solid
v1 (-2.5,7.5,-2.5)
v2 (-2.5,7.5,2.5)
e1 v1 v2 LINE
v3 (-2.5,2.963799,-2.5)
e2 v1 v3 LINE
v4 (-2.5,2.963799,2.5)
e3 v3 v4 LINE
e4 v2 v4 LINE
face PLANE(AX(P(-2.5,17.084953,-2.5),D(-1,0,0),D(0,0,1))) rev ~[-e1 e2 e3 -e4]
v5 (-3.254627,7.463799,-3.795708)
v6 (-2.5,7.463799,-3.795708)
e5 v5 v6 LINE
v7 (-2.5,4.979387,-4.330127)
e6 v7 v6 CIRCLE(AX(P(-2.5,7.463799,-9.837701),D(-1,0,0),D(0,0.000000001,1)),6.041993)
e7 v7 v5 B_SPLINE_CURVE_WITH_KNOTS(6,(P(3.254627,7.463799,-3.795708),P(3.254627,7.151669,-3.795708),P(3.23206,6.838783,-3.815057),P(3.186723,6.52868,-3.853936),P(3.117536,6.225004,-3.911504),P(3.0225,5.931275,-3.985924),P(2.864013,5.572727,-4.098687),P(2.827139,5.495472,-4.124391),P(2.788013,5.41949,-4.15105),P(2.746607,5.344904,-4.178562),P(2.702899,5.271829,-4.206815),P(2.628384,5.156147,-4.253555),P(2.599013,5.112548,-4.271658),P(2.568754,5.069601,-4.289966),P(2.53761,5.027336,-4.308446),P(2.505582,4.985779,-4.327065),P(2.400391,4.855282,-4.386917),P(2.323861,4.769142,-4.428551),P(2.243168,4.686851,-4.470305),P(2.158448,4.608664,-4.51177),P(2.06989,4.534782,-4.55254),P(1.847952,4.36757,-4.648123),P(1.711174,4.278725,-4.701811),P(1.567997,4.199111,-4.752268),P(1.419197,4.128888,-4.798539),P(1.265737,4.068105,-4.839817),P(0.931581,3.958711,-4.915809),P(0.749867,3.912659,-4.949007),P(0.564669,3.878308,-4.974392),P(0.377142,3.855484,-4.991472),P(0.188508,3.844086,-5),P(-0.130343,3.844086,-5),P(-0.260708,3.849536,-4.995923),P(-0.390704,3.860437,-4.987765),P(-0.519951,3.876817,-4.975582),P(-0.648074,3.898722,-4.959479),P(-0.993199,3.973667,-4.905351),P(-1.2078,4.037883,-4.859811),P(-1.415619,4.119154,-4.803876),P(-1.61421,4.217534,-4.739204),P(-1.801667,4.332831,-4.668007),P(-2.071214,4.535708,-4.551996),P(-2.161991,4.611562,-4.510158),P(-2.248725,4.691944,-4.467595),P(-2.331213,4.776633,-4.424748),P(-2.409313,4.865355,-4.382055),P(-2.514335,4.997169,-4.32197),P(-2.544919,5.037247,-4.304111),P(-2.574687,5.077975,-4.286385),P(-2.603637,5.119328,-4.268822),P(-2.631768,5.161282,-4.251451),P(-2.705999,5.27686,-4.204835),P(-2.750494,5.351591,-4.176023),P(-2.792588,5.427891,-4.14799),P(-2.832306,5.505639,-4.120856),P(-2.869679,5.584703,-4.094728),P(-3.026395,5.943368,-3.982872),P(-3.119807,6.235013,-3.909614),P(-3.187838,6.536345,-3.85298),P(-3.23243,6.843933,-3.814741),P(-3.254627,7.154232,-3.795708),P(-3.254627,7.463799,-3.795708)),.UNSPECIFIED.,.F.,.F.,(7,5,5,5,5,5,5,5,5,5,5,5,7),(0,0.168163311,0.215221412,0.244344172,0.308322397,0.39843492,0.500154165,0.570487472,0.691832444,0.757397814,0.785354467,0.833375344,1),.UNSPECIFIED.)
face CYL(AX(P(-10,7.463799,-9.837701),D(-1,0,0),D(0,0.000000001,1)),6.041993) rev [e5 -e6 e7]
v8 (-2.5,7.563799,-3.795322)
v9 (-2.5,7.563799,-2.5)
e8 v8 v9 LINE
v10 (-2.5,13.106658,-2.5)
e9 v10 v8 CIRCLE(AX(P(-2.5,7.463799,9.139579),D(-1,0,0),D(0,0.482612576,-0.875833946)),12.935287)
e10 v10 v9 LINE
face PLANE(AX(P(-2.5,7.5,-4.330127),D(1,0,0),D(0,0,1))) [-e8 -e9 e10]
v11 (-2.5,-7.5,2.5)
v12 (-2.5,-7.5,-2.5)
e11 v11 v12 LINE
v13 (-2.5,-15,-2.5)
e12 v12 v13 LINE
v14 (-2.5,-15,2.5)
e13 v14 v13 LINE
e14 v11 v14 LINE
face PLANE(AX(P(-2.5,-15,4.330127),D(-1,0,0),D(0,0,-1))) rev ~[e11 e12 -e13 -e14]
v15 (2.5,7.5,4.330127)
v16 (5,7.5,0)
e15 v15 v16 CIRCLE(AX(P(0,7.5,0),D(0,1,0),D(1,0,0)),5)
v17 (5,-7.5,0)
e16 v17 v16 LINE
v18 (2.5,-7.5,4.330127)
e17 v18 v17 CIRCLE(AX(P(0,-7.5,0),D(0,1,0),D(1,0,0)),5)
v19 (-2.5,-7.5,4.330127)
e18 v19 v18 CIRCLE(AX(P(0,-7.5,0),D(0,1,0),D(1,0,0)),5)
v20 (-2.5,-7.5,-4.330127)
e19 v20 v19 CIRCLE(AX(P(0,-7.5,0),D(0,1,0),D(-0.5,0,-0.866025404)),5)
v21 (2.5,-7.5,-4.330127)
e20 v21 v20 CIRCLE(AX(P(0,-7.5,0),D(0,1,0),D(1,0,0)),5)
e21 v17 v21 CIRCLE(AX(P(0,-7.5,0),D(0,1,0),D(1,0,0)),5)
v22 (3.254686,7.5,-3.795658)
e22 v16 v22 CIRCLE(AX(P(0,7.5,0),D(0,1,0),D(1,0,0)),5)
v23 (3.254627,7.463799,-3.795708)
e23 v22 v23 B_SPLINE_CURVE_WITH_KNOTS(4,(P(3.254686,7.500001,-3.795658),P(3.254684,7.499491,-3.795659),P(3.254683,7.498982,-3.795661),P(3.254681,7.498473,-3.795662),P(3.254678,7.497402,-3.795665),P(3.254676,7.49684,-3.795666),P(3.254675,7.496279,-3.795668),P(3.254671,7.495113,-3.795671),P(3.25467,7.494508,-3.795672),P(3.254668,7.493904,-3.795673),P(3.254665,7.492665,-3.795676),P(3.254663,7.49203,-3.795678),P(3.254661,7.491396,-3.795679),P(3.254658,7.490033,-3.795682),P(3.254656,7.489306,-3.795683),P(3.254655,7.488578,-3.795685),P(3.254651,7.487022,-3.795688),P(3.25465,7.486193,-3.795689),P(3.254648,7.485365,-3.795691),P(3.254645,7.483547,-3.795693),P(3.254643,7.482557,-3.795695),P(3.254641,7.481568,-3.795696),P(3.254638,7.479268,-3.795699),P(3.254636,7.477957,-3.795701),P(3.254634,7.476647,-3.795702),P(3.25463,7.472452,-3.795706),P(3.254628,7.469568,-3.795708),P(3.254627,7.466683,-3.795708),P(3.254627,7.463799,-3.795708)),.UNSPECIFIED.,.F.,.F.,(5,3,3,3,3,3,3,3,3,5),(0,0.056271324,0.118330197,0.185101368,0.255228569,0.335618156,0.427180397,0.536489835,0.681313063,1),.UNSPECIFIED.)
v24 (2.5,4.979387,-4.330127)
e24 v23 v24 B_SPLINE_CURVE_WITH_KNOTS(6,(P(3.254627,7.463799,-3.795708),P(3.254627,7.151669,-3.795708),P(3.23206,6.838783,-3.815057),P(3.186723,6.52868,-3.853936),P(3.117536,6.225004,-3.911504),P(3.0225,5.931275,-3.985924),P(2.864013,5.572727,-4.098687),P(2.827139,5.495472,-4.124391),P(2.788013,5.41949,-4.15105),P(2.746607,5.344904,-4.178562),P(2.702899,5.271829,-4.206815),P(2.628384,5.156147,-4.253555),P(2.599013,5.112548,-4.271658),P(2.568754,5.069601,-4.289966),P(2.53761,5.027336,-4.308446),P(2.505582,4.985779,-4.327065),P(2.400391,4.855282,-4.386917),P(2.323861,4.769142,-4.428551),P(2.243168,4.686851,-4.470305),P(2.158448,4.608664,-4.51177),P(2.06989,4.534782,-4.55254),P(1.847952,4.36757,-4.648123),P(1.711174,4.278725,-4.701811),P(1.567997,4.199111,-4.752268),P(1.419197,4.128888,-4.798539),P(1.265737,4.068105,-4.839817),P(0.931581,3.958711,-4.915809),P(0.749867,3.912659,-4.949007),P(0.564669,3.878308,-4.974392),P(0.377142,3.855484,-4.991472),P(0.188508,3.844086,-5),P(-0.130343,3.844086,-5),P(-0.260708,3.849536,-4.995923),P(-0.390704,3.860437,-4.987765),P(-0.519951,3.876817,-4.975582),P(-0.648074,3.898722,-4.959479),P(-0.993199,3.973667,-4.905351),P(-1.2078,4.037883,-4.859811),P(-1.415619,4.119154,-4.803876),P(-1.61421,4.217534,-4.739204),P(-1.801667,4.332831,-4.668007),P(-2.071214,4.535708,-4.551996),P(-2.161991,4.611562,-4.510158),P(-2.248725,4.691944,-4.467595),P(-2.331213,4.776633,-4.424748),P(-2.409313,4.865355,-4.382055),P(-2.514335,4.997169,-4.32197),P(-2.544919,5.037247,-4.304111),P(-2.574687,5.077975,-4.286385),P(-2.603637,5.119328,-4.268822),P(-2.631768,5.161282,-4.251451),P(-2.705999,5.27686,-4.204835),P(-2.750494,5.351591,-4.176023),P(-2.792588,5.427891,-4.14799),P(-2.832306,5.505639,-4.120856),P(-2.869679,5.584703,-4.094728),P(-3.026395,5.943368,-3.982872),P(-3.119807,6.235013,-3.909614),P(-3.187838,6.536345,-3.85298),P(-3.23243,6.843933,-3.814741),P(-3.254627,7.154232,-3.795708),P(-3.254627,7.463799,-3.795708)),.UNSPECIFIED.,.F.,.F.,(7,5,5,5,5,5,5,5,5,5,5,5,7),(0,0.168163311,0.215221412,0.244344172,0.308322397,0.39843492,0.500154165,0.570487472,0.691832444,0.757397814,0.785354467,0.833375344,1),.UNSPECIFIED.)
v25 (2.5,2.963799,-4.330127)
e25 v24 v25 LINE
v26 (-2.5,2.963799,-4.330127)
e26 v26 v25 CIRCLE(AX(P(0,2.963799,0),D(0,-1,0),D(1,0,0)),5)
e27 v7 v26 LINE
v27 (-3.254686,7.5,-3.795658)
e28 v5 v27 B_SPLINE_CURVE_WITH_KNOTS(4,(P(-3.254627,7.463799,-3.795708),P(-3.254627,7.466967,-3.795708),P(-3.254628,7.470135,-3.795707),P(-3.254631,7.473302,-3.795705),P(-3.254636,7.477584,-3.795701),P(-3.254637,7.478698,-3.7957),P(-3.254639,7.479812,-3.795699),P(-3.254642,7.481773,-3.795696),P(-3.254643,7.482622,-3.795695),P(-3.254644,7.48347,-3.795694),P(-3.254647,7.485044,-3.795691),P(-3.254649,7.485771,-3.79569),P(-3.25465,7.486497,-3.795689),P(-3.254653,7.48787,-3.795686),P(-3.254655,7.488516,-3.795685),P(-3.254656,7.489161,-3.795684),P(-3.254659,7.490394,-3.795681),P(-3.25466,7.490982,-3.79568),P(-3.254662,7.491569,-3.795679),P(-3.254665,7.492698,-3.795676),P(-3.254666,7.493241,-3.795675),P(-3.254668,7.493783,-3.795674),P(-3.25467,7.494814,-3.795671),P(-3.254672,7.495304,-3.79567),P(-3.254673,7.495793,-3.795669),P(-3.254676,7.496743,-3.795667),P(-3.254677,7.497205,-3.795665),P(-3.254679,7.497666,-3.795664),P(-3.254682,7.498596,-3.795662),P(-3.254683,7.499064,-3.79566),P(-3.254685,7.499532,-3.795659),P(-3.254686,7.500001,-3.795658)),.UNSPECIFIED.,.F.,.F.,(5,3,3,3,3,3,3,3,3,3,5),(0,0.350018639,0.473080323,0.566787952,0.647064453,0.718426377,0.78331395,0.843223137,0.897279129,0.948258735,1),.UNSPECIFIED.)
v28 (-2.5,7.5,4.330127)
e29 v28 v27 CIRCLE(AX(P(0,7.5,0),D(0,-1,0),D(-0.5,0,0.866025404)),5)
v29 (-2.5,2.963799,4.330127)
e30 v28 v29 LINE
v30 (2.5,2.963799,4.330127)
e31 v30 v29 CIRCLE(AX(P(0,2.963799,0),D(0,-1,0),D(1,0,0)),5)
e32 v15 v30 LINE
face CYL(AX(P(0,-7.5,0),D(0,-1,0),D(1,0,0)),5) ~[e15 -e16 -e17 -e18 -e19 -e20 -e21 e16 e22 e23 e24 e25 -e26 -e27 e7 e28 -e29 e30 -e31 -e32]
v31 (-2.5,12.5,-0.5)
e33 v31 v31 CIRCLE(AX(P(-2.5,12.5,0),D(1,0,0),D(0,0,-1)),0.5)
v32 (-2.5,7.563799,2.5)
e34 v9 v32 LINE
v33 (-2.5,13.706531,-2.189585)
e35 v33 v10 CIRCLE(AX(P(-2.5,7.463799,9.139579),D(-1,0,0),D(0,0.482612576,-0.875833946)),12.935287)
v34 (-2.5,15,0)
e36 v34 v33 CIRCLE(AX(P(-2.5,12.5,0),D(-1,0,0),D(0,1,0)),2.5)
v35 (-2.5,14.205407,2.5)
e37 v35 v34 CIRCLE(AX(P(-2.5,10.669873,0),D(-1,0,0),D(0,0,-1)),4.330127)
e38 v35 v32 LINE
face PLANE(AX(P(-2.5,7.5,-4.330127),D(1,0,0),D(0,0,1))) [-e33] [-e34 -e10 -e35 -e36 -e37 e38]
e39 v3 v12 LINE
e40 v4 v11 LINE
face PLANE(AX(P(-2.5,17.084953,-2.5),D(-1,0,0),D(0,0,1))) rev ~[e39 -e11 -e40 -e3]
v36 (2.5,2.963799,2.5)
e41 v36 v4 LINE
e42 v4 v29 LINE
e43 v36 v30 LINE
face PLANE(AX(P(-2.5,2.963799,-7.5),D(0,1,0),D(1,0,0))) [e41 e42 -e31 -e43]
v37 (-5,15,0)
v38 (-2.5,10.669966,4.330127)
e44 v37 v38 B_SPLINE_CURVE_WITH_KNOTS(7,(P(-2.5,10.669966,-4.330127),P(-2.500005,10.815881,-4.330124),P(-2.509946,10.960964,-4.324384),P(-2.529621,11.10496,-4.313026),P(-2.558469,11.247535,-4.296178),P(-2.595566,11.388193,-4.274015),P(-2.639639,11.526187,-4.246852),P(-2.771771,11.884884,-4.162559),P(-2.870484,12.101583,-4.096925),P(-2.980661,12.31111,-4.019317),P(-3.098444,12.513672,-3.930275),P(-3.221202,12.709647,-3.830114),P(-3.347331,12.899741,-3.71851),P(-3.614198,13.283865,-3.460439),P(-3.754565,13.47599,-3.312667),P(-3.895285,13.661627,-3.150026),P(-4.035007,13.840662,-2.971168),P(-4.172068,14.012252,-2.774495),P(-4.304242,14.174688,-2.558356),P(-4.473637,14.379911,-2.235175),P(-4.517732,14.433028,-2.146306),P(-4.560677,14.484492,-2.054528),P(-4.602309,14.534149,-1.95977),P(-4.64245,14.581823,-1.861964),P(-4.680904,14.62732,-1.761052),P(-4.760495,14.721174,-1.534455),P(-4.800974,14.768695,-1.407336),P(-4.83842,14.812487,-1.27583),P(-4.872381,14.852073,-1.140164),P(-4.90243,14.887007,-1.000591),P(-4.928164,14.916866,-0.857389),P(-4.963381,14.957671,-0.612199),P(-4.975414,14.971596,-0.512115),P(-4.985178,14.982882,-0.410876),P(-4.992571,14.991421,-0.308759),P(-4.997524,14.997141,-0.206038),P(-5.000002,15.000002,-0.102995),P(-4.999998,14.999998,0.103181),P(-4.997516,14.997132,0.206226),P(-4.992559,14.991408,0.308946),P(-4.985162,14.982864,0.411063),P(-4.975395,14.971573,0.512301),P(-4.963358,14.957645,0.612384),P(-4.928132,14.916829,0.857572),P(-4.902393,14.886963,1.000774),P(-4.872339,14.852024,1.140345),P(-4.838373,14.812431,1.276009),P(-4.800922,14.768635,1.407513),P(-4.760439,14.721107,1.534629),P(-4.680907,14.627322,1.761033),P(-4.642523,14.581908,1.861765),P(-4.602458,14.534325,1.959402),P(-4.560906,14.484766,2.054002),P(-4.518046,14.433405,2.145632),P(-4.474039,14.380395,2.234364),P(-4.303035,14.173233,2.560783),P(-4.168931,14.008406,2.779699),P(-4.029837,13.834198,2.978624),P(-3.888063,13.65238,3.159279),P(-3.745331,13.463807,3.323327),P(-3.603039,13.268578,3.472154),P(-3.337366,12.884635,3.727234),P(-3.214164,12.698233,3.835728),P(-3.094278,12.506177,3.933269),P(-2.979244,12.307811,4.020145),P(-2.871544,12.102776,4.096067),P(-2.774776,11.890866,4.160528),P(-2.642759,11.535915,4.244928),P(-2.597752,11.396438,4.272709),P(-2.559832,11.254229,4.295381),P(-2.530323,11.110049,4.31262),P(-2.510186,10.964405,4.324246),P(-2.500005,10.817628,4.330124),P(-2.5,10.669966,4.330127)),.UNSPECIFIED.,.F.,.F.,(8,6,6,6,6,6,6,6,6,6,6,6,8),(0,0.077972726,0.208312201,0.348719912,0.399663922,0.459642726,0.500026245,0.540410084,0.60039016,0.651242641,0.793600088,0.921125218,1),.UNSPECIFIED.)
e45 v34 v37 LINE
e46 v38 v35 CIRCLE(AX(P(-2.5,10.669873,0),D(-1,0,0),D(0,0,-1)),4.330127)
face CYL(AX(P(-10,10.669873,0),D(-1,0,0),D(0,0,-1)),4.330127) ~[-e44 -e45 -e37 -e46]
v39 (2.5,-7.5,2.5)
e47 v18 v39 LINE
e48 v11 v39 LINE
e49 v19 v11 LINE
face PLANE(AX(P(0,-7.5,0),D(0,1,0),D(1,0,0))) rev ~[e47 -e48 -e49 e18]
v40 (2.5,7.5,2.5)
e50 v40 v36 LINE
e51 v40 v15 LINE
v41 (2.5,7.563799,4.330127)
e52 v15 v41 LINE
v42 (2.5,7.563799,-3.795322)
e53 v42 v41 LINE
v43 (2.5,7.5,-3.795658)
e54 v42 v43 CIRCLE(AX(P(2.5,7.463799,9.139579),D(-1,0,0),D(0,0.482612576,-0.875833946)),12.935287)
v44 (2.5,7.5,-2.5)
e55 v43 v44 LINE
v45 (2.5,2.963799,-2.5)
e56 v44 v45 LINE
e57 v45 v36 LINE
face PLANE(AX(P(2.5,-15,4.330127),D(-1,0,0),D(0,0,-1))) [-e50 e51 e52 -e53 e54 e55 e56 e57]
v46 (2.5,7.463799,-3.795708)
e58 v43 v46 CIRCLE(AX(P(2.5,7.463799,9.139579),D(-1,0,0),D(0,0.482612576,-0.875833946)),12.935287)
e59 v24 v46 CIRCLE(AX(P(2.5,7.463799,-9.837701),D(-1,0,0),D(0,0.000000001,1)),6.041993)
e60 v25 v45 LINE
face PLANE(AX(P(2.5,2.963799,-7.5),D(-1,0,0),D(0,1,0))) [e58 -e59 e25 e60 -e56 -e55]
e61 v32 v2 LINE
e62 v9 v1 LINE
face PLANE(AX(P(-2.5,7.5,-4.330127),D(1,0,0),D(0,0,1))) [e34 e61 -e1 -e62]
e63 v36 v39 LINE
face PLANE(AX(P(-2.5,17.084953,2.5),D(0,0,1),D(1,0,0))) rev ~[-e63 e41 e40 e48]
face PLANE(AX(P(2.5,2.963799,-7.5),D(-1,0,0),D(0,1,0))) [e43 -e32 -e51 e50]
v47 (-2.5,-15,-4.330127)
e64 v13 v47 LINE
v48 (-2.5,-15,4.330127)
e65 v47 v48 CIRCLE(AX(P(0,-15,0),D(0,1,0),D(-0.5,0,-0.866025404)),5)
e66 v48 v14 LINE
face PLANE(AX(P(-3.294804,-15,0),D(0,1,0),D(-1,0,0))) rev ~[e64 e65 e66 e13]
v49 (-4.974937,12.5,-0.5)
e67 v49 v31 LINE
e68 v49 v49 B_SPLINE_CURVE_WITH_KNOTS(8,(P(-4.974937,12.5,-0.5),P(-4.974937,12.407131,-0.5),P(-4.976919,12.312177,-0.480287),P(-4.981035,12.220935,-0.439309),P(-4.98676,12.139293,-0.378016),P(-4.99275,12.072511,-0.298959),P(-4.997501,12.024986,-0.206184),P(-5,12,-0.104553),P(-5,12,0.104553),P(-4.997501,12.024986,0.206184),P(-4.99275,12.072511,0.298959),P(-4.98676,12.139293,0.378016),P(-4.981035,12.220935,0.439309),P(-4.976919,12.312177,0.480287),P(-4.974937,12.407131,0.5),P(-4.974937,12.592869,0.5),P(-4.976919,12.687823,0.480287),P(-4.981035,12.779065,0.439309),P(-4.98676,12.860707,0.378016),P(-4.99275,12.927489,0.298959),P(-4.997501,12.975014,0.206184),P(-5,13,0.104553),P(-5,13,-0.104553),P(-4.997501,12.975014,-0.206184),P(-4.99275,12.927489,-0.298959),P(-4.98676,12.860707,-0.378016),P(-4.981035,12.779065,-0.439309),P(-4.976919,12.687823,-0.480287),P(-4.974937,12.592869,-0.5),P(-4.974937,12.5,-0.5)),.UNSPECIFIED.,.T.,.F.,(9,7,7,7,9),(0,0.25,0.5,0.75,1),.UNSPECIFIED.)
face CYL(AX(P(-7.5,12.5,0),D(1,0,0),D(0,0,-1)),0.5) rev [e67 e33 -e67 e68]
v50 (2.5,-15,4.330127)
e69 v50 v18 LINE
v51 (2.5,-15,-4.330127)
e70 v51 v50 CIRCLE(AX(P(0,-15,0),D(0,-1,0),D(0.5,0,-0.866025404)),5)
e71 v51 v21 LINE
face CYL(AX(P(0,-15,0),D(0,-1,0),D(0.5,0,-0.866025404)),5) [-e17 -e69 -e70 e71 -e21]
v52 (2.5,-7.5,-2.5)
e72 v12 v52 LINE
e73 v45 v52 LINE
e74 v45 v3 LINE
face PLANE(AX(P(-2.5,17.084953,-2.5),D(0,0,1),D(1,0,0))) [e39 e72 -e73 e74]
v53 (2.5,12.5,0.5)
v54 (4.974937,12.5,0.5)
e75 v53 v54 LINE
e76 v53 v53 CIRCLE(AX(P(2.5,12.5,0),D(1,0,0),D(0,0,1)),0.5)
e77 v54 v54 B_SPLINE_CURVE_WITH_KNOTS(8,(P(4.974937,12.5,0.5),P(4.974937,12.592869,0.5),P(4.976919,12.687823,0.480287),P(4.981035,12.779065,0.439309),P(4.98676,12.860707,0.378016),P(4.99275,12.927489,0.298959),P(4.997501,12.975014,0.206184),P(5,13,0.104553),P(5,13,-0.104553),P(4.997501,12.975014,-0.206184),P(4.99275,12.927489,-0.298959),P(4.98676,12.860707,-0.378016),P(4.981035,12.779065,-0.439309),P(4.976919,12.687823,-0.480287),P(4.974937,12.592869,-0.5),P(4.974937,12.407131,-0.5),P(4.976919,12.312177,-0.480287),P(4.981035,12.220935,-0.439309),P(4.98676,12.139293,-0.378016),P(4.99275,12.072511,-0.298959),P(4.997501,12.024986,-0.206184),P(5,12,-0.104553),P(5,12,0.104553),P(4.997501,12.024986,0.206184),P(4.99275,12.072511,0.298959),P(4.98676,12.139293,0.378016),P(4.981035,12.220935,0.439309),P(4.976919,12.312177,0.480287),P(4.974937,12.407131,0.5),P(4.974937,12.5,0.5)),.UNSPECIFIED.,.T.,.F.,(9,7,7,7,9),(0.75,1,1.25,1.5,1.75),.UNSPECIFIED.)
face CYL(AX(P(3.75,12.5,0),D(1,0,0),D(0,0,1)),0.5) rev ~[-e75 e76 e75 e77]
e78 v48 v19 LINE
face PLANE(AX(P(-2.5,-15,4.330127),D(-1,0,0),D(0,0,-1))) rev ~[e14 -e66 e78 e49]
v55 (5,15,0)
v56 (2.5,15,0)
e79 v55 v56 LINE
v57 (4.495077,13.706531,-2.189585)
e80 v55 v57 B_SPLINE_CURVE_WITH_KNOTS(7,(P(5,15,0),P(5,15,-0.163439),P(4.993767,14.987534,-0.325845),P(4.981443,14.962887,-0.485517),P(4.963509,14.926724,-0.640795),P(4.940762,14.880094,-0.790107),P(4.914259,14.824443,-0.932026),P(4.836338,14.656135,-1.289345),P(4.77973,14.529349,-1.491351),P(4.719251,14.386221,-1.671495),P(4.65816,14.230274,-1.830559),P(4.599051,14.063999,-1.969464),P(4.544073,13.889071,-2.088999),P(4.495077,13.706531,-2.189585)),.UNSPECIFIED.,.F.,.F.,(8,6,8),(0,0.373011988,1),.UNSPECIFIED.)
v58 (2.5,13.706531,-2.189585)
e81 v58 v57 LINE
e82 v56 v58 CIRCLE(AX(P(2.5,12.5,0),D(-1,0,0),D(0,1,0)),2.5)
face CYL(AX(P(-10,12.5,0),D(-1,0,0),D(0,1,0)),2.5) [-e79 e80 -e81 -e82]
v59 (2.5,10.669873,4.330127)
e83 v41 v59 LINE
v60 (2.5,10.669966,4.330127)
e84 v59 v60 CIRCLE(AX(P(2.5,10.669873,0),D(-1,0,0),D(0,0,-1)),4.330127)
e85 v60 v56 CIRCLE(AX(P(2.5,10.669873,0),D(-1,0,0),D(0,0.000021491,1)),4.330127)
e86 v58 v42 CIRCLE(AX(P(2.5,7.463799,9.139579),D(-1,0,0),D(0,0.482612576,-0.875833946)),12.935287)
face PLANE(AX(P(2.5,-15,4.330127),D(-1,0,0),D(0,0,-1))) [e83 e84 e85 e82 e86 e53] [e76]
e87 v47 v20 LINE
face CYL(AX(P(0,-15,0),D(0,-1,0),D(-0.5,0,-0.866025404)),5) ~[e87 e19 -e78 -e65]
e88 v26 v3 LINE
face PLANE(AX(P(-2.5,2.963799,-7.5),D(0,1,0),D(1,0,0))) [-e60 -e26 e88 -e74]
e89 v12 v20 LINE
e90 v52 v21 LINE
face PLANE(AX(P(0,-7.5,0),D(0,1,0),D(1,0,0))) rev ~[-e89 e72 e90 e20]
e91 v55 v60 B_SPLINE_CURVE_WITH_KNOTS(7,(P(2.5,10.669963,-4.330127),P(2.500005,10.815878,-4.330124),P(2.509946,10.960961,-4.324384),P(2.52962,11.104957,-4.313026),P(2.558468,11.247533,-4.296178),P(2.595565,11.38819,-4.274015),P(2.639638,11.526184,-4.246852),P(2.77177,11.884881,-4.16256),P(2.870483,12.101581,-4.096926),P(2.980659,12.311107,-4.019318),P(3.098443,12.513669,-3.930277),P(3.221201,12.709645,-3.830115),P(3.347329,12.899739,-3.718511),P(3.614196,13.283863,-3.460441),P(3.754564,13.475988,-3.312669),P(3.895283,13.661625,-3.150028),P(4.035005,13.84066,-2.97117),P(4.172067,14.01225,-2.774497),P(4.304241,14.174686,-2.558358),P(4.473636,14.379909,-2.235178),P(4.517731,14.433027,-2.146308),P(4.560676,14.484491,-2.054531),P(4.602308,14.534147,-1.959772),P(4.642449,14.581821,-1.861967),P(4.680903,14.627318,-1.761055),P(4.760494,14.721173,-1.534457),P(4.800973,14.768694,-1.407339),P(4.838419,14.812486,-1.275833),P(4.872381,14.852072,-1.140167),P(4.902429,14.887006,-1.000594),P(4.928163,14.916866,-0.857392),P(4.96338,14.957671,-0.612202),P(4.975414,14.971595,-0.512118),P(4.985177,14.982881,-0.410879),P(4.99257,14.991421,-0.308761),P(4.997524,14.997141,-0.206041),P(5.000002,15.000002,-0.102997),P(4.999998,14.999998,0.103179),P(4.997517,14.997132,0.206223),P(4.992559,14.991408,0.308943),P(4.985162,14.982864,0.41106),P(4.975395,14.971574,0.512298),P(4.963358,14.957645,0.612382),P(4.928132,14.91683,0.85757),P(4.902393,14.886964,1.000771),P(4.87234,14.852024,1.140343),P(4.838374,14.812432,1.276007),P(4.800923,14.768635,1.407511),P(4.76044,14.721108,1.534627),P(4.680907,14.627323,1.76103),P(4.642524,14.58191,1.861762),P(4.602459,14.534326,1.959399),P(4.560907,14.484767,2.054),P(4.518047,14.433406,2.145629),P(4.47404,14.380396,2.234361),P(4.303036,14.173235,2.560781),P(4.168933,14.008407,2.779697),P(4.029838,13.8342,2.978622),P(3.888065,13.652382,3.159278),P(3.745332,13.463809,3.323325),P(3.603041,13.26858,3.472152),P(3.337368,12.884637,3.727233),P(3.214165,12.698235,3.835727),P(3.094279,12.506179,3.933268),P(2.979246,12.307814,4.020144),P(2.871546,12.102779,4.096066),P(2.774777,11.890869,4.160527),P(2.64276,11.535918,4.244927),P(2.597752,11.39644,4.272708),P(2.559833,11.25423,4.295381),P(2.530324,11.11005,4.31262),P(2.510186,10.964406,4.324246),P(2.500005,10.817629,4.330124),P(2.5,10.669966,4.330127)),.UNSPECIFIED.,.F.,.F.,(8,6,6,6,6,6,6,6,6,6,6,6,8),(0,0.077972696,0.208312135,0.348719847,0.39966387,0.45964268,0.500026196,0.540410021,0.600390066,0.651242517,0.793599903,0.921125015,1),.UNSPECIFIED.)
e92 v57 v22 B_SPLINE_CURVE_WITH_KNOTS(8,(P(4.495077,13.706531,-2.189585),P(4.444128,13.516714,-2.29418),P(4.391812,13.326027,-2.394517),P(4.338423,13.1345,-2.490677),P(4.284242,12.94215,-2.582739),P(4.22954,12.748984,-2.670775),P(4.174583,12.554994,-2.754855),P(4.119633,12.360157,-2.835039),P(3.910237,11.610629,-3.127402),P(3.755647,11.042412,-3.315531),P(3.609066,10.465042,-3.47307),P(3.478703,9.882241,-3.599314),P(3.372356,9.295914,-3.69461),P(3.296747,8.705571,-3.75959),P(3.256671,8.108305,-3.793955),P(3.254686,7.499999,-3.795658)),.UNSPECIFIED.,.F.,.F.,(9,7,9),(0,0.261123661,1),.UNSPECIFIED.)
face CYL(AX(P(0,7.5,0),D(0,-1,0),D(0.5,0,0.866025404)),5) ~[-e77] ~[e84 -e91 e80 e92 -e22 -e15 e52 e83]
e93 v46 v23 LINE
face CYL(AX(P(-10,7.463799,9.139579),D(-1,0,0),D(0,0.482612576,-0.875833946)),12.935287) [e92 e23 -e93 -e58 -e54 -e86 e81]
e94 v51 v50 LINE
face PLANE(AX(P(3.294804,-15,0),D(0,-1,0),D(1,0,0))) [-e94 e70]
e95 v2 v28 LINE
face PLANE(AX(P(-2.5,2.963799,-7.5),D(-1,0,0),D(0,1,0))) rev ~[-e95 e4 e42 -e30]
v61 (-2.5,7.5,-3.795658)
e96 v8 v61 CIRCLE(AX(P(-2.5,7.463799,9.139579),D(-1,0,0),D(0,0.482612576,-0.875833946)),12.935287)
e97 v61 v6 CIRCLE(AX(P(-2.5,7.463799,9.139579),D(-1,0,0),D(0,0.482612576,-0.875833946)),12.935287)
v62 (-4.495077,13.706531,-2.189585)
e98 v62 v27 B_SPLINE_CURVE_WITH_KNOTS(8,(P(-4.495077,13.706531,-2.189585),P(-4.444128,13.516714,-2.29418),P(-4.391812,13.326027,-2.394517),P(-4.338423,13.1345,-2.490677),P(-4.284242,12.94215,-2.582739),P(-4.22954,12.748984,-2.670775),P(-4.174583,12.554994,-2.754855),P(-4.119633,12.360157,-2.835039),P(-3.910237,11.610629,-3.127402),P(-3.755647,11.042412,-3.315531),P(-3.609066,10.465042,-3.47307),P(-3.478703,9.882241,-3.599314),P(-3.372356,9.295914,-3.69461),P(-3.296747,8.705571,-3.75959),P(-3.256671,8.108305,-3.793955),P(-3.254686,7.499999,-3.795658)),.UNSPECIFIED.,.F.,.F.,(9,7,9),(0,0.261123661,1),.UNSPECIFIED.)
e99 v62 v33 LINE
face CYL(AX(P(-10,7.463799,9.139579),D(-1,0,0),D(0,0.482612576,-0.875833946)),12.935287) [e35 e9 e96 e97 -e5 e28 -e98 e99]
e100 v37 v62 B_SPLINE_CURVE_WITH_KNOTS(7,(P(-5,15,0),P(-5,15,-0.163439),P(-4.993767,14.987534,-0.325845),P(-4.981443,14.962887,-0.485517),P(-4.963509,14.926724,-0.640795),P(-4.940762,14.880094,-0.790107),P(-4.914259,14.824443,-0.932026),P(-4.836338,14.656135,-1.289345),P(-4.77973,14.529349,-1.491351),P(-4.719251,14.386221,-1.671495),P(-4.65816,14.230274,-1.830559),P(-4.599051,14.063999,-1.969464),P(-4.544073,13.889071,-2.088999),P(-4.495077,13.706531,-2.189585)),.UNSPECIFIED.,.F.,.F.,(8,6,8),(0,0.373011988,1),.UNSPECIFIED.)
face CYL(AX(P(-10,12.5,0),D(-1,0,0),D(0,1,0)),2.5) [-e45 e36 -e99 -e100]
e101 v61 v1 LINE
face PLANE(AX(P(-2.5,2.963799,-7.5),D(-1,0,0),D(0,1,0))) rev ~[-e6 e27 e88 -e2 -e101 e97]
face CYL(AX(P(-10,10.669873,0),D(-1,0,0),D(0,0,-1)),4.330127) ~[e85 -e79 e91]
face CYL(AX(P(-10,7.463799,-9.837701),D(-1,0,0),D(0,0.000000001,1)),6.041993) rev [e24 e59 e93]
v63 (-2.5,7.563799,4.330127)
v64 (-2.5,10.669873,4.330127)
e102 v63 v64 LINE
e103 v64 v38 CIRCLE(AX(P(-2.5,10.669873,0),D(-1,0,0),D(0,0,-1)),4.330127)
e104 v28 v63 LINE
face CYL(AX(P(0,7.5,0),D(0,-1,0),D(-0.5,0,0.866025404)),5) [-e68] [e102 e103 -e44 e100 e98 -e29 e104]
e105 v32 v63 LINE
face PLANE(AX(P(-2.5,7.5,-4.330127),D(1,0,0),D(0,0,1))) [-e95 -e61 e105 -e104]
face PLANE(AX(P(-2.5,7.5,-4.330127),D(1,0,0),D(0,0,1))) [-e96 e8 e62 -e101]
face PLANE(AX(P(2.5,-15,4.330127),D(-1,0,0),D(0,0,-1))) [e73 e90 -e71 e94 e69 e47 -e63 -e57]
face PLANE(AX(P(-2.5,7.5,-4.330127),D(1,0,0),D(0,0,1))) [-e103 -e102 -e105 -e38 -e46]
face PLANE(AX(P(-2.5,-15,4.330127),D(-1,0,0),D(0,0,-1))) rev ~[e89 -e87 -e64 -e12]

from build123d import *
from build123d.topology import SkipClean

# Parameters (mm, degrees)
BOSS_EXTRUDE1_DEPTH      = 7.5
BOSS_EXTRUDE1_DEPTH_BACK = 7.5
SKETCH1_R                = 5
BOSS_EXTRUDE3_DEPTH      = 7.5
BOSS_EXTRUDE4_START      = 7.5
BOSS_EXTRUDE4_DEPTH      = 7.5
CUT_EXTRUDE2_DEPTH       = 24.58495283
CUT_EXTRUDE2_DEPTH_BACK  = 24.58495283
SKETCH5_W                = 5
SKETCH5_H                = 5
CUT_EXTRUDE4_DEPTH       = 18.5
CUT_EXTRUDE4_DEPTH_BACK  = 7.5
SKETCH14_W               = 0.500000016
SKETCH14_H               = 2.5
CUT_EXTRUDE5_DEPTH       = 7.5
CUT_EXTRUDE5_DEPTH_BACK  = 7.5
CUT_EXTRUDE8_DEPTH       = 7.5
CUT_EXTRUDE8_DEPTH_BACK  = 7.5
SKETCH17_W               = 5
SKETCH17_H               = 4.6


with BuildPart() as part:
    # Sketch1 → Boss-Extrude1 (new, two sides: drawn at the far end of the back side and taken through both)
    with BuildSketch(Plane(origin=(0, 0, 0), x_dir=(1, 0, 0), z_dir=(0, 1, 0)).offset(-BOSS_EXTRUDE1_DEPTH_BACK)):
        Circle(SKETCH1_R)
    extrude(amount=BOSS_EXTRUDE1_DEPTH + BOSS_EXTRUDE1_DEPTH_BACK)

    # Sketch3 → Boss-Extrude3 (add)
    with SkipClean():  # the faces are left unmerged after this step: merging them gives an invalid solid
        with BuildSketch(Plane(origin=(0, 7.5, 0), x_dir=(1, 0, 0), z_dir=(0, 1, 0))):
            with BuildLine():
                Line((-2.5, 4.330127019), (-2.5, -4.330127019))
                ThreePointArc((-2.5, -4.330127019), (-5, 0), (-2.5, 4.330127019))
            make_face()
            with BuildLine():
                Line((2.5, 4.330127019), (2.5, -4.330127019))
                ThreePointArc((2.5, -4.330127019), (5, 0), (2.5, 4.330127019))
            make_face()
        extrude(amount=BOSS_EXTRUDE3_DEPTH)

    # Sketch4 → Boss-Extrude4 (add)
    with SkipClean():  # the faces are left unmerged after this step: merging them gives an invalid solid
        with BuildSketch(Plane.XZ.offset(7.5).offset(BOSS_EXTRUDE4_START)):
            with BuildLine():
                Line((-2.5, 4.330127019), (-2.5, -4.330127019))
                ThreePointArc((-2.5, -4.330127019), (-5, 0), (-2.5, 4.330127019))
            make_face()
            with BuildLine():
                Line((2.5, 4.330127019), (2.5, -4.330127019))
                ThreePointArc((2.5, -4.330127019), (5, 0), (2.5, 4.330127019))
            make_face()
        extrude(amount=-BOSS_EXTRUDE4_DEPTH)

    # Sketch5 → Cut-Extrude2 (cut, two sides: drawn at the far end of the back side and taken through both)
    with SkipClean():  # the faces are left unmerged after this step: merging them gives an invalid solid
        with BuildSketch(Plane.XZ.offset(7.5).offset(-CUT_EXTRUDE2_DEPTH_BACK)):
            Rectangle(SKETCH5_W, SKETCH5_H)
        extrude(amount=CUT_EXTRUDE2_DEPTH + CUT_EXTRUDE2_DEPTH_BACK, mode=Mode.SUBTRACT)

    # Sketch10 → Cut-Extrude4 (cut, two sides: drawn at the far end of the back side and taken through both)
    with SkipClean():  # the faces are left unmerged after this step: merging them gives an invalid solid
        with BuildSketch(Plane(origin=(-2.5, 0, 0), x_dir=(0, 0, -1), z_dir=(1, 0, 0)).offset(-CUT_EXTRUDE4_DEPTH_BACK)):
            with BuildLine():
                Line((-4.33012702, 10.66987298), (-4.331858603, 15.169872647))
                Line((-4.331858603, 15.169872647), (4.328395437, 15.169872647))
                Line((4.328395437, 15.169872647), (4.33012702, 10.66987298))
                ThreePointArc((4.33012702, 10.66987298), (0, 15), (-4.33012702, 10.66987298))
            make_face()
        extrude(amount=CUT_EXTRUDE4_DEPTH + CUT_EXTRUDE4_DEPTH_BACK, mode=Mode.SUBTRACT)


with BuildPart() as cut_extrude4_piece_1:
    # of the separate pieces the step leaves, piece 1, a body of its own (cut_extrude4_pieces)
    add(part.part.solids().sort_by_distance((5, 0, 0))[0])

    # Sketch14 → #97 (0.03937008) Diameter Hole1 (revolve, cut)
    with SkipClean():  # the faces are left unmerged after this step: merging them gives an invalid solid
        with BuildSketch(Plane(origin=(2.5, 12.5, 0), x_dir=(0, 0, 1), z_dir=(0, 1, 0))):
            with Locations((0.250000008, 1.25)):
                Rectangle(SKETCH14_W, SKETCH14_H)
        revolve(axis=Axis((-3.85, 12.5, 0), (1, 0, 0)), mode=Mode.SUBTRACT)

    # Sketch15 → #97 (0.03937008) Diameter Hole2 (revolve, cut)
    with SkipClean():  # the faces are left unmerged after this step: merging them gives an invalid solid
        with BuildSketch(Plane(origin=(2.5, 12.5, 0), x_dir=(0, 0, -1), z_dir=(0, 1, 0))):
            Polygon((0, 0), (0, 10.300430319), (0.500000016, 10), (0.500000016, 0), align=None)
        revolve(axis=Axis((8.85, 12.5, 0), (-1, 0, 0)), mode=Mode.SUBTRACT)


with BuildPart() as cut_extrude4_piece_2:
    # of the separate pieces the step leaves, piece 2, a body of its own (cut_extrude4_pieces)
    add(part.part.solids().sort_by_distance((2.502883751, 15, -4.328460803))[0])


with BuildPart() as cut_extrude4_piece_3:
    # of the separate pieces the step leaves, piece 3, a body of its own (cut_extrude4_pieces)
    add(part.part.solids().sort_by_distance((-2.5, 15, -4.330127019))[0])


with BuildPart() as cut_extrude5_tool:
    # Sketch16 → Cut-Extrude5 (new, two sides: drawn at the far end of the back side and taken through both)
    with SkipClean():  # the faces are left unmerged after this step: merging them gives an invalid solid
        with BuildSketch(Plane(origin=(-2.5, 0, 0), x_dir=(0, 0, -1), z_dir=(1, 0, 0)).offset(-CUT_EXTRUDE5_DEPTH_BACK)):
            with BuildLine():
                Line((5.450138396, 3.309889021), (7.392049741, 3.309889021))
                Line((7.392049741, 3.309889021), (7.392049741, 15))
                Line((7.392049741, 15), (0, 15))
                ThreePointArc((0, 15), (1.271548544, 14.652478641), (2.189584866, 13.70653144))
                ThreePointArc((2.189584866, 13.70653144), (3.387744198, 10.686815519), (3.795708462, 7.463799045))
                ThreePointArc((3.795708462, 7.463799045), (4.224533696, 5.228172349), (5.450138396, 3.309889021))
            make_face()
        extrude(amount=CUT_EXTRUDE5_DEPTH + CUT_EXTRUDE5_DEPTH_BACK)


with BuildPart() as cut_extrude4_piece_1_1:
    with SkipClean():  # the faces are left unmerged after this step: merging them gives an invalid solid
        add(cut_extrude4_piece_1.part)

        # Cut-Extrude5: cut by cut_extrude5_tool
        add(cut_extrude5_tool.part, mode=Mode.SUBTRACT)

    # Sketch17 → Cut-Extrude8 (cut, two sides: drawn at the far end of the back side and taken through both)
    with SkipClean():  # the faces are left unmerged after this step: merging them gives an invalid solid
        with BuildSketch(Plane.XY.offset(-CUT_EXTRUDE8_DEPTH_BACK)):
            with Locations((0, 5.263799045)):
                Rectangle(SKETCH17_W, SKETCH17_H)
        extrude(amount=CUT_EXTRUDE8_DEPTH + CUT_EXTRUDE8_DEPTH_BACK, mode=Mode.SUBTRACT)


with BuildPart() as cut_extrude4_piece_2_1:
    with SkipClean():  # the faces are left unmerged after this step: merging them gives an invalid solid
        add(cut_extrude4_piece_2.part)

        # Cut-Extrude5: cut by cut_extrude5_tool
        add(cut_extrude5_tool.part, mode=Mode.SUBTRACT)


with BuildPart() as cut_extrude4_piece_3_1:
    with SkipClean():  # the faces are left unmerged after this step: merging them gives an invalid solid
        add(cut_extrude4_piece_3.part)

        # Cut-Extrude5: cut by cut_extrude5_tool
        add(cut_extrude5_tool.part, mode=Mode.SUBTRACT)


solid = cut_extrude4_piece_1_1.part
